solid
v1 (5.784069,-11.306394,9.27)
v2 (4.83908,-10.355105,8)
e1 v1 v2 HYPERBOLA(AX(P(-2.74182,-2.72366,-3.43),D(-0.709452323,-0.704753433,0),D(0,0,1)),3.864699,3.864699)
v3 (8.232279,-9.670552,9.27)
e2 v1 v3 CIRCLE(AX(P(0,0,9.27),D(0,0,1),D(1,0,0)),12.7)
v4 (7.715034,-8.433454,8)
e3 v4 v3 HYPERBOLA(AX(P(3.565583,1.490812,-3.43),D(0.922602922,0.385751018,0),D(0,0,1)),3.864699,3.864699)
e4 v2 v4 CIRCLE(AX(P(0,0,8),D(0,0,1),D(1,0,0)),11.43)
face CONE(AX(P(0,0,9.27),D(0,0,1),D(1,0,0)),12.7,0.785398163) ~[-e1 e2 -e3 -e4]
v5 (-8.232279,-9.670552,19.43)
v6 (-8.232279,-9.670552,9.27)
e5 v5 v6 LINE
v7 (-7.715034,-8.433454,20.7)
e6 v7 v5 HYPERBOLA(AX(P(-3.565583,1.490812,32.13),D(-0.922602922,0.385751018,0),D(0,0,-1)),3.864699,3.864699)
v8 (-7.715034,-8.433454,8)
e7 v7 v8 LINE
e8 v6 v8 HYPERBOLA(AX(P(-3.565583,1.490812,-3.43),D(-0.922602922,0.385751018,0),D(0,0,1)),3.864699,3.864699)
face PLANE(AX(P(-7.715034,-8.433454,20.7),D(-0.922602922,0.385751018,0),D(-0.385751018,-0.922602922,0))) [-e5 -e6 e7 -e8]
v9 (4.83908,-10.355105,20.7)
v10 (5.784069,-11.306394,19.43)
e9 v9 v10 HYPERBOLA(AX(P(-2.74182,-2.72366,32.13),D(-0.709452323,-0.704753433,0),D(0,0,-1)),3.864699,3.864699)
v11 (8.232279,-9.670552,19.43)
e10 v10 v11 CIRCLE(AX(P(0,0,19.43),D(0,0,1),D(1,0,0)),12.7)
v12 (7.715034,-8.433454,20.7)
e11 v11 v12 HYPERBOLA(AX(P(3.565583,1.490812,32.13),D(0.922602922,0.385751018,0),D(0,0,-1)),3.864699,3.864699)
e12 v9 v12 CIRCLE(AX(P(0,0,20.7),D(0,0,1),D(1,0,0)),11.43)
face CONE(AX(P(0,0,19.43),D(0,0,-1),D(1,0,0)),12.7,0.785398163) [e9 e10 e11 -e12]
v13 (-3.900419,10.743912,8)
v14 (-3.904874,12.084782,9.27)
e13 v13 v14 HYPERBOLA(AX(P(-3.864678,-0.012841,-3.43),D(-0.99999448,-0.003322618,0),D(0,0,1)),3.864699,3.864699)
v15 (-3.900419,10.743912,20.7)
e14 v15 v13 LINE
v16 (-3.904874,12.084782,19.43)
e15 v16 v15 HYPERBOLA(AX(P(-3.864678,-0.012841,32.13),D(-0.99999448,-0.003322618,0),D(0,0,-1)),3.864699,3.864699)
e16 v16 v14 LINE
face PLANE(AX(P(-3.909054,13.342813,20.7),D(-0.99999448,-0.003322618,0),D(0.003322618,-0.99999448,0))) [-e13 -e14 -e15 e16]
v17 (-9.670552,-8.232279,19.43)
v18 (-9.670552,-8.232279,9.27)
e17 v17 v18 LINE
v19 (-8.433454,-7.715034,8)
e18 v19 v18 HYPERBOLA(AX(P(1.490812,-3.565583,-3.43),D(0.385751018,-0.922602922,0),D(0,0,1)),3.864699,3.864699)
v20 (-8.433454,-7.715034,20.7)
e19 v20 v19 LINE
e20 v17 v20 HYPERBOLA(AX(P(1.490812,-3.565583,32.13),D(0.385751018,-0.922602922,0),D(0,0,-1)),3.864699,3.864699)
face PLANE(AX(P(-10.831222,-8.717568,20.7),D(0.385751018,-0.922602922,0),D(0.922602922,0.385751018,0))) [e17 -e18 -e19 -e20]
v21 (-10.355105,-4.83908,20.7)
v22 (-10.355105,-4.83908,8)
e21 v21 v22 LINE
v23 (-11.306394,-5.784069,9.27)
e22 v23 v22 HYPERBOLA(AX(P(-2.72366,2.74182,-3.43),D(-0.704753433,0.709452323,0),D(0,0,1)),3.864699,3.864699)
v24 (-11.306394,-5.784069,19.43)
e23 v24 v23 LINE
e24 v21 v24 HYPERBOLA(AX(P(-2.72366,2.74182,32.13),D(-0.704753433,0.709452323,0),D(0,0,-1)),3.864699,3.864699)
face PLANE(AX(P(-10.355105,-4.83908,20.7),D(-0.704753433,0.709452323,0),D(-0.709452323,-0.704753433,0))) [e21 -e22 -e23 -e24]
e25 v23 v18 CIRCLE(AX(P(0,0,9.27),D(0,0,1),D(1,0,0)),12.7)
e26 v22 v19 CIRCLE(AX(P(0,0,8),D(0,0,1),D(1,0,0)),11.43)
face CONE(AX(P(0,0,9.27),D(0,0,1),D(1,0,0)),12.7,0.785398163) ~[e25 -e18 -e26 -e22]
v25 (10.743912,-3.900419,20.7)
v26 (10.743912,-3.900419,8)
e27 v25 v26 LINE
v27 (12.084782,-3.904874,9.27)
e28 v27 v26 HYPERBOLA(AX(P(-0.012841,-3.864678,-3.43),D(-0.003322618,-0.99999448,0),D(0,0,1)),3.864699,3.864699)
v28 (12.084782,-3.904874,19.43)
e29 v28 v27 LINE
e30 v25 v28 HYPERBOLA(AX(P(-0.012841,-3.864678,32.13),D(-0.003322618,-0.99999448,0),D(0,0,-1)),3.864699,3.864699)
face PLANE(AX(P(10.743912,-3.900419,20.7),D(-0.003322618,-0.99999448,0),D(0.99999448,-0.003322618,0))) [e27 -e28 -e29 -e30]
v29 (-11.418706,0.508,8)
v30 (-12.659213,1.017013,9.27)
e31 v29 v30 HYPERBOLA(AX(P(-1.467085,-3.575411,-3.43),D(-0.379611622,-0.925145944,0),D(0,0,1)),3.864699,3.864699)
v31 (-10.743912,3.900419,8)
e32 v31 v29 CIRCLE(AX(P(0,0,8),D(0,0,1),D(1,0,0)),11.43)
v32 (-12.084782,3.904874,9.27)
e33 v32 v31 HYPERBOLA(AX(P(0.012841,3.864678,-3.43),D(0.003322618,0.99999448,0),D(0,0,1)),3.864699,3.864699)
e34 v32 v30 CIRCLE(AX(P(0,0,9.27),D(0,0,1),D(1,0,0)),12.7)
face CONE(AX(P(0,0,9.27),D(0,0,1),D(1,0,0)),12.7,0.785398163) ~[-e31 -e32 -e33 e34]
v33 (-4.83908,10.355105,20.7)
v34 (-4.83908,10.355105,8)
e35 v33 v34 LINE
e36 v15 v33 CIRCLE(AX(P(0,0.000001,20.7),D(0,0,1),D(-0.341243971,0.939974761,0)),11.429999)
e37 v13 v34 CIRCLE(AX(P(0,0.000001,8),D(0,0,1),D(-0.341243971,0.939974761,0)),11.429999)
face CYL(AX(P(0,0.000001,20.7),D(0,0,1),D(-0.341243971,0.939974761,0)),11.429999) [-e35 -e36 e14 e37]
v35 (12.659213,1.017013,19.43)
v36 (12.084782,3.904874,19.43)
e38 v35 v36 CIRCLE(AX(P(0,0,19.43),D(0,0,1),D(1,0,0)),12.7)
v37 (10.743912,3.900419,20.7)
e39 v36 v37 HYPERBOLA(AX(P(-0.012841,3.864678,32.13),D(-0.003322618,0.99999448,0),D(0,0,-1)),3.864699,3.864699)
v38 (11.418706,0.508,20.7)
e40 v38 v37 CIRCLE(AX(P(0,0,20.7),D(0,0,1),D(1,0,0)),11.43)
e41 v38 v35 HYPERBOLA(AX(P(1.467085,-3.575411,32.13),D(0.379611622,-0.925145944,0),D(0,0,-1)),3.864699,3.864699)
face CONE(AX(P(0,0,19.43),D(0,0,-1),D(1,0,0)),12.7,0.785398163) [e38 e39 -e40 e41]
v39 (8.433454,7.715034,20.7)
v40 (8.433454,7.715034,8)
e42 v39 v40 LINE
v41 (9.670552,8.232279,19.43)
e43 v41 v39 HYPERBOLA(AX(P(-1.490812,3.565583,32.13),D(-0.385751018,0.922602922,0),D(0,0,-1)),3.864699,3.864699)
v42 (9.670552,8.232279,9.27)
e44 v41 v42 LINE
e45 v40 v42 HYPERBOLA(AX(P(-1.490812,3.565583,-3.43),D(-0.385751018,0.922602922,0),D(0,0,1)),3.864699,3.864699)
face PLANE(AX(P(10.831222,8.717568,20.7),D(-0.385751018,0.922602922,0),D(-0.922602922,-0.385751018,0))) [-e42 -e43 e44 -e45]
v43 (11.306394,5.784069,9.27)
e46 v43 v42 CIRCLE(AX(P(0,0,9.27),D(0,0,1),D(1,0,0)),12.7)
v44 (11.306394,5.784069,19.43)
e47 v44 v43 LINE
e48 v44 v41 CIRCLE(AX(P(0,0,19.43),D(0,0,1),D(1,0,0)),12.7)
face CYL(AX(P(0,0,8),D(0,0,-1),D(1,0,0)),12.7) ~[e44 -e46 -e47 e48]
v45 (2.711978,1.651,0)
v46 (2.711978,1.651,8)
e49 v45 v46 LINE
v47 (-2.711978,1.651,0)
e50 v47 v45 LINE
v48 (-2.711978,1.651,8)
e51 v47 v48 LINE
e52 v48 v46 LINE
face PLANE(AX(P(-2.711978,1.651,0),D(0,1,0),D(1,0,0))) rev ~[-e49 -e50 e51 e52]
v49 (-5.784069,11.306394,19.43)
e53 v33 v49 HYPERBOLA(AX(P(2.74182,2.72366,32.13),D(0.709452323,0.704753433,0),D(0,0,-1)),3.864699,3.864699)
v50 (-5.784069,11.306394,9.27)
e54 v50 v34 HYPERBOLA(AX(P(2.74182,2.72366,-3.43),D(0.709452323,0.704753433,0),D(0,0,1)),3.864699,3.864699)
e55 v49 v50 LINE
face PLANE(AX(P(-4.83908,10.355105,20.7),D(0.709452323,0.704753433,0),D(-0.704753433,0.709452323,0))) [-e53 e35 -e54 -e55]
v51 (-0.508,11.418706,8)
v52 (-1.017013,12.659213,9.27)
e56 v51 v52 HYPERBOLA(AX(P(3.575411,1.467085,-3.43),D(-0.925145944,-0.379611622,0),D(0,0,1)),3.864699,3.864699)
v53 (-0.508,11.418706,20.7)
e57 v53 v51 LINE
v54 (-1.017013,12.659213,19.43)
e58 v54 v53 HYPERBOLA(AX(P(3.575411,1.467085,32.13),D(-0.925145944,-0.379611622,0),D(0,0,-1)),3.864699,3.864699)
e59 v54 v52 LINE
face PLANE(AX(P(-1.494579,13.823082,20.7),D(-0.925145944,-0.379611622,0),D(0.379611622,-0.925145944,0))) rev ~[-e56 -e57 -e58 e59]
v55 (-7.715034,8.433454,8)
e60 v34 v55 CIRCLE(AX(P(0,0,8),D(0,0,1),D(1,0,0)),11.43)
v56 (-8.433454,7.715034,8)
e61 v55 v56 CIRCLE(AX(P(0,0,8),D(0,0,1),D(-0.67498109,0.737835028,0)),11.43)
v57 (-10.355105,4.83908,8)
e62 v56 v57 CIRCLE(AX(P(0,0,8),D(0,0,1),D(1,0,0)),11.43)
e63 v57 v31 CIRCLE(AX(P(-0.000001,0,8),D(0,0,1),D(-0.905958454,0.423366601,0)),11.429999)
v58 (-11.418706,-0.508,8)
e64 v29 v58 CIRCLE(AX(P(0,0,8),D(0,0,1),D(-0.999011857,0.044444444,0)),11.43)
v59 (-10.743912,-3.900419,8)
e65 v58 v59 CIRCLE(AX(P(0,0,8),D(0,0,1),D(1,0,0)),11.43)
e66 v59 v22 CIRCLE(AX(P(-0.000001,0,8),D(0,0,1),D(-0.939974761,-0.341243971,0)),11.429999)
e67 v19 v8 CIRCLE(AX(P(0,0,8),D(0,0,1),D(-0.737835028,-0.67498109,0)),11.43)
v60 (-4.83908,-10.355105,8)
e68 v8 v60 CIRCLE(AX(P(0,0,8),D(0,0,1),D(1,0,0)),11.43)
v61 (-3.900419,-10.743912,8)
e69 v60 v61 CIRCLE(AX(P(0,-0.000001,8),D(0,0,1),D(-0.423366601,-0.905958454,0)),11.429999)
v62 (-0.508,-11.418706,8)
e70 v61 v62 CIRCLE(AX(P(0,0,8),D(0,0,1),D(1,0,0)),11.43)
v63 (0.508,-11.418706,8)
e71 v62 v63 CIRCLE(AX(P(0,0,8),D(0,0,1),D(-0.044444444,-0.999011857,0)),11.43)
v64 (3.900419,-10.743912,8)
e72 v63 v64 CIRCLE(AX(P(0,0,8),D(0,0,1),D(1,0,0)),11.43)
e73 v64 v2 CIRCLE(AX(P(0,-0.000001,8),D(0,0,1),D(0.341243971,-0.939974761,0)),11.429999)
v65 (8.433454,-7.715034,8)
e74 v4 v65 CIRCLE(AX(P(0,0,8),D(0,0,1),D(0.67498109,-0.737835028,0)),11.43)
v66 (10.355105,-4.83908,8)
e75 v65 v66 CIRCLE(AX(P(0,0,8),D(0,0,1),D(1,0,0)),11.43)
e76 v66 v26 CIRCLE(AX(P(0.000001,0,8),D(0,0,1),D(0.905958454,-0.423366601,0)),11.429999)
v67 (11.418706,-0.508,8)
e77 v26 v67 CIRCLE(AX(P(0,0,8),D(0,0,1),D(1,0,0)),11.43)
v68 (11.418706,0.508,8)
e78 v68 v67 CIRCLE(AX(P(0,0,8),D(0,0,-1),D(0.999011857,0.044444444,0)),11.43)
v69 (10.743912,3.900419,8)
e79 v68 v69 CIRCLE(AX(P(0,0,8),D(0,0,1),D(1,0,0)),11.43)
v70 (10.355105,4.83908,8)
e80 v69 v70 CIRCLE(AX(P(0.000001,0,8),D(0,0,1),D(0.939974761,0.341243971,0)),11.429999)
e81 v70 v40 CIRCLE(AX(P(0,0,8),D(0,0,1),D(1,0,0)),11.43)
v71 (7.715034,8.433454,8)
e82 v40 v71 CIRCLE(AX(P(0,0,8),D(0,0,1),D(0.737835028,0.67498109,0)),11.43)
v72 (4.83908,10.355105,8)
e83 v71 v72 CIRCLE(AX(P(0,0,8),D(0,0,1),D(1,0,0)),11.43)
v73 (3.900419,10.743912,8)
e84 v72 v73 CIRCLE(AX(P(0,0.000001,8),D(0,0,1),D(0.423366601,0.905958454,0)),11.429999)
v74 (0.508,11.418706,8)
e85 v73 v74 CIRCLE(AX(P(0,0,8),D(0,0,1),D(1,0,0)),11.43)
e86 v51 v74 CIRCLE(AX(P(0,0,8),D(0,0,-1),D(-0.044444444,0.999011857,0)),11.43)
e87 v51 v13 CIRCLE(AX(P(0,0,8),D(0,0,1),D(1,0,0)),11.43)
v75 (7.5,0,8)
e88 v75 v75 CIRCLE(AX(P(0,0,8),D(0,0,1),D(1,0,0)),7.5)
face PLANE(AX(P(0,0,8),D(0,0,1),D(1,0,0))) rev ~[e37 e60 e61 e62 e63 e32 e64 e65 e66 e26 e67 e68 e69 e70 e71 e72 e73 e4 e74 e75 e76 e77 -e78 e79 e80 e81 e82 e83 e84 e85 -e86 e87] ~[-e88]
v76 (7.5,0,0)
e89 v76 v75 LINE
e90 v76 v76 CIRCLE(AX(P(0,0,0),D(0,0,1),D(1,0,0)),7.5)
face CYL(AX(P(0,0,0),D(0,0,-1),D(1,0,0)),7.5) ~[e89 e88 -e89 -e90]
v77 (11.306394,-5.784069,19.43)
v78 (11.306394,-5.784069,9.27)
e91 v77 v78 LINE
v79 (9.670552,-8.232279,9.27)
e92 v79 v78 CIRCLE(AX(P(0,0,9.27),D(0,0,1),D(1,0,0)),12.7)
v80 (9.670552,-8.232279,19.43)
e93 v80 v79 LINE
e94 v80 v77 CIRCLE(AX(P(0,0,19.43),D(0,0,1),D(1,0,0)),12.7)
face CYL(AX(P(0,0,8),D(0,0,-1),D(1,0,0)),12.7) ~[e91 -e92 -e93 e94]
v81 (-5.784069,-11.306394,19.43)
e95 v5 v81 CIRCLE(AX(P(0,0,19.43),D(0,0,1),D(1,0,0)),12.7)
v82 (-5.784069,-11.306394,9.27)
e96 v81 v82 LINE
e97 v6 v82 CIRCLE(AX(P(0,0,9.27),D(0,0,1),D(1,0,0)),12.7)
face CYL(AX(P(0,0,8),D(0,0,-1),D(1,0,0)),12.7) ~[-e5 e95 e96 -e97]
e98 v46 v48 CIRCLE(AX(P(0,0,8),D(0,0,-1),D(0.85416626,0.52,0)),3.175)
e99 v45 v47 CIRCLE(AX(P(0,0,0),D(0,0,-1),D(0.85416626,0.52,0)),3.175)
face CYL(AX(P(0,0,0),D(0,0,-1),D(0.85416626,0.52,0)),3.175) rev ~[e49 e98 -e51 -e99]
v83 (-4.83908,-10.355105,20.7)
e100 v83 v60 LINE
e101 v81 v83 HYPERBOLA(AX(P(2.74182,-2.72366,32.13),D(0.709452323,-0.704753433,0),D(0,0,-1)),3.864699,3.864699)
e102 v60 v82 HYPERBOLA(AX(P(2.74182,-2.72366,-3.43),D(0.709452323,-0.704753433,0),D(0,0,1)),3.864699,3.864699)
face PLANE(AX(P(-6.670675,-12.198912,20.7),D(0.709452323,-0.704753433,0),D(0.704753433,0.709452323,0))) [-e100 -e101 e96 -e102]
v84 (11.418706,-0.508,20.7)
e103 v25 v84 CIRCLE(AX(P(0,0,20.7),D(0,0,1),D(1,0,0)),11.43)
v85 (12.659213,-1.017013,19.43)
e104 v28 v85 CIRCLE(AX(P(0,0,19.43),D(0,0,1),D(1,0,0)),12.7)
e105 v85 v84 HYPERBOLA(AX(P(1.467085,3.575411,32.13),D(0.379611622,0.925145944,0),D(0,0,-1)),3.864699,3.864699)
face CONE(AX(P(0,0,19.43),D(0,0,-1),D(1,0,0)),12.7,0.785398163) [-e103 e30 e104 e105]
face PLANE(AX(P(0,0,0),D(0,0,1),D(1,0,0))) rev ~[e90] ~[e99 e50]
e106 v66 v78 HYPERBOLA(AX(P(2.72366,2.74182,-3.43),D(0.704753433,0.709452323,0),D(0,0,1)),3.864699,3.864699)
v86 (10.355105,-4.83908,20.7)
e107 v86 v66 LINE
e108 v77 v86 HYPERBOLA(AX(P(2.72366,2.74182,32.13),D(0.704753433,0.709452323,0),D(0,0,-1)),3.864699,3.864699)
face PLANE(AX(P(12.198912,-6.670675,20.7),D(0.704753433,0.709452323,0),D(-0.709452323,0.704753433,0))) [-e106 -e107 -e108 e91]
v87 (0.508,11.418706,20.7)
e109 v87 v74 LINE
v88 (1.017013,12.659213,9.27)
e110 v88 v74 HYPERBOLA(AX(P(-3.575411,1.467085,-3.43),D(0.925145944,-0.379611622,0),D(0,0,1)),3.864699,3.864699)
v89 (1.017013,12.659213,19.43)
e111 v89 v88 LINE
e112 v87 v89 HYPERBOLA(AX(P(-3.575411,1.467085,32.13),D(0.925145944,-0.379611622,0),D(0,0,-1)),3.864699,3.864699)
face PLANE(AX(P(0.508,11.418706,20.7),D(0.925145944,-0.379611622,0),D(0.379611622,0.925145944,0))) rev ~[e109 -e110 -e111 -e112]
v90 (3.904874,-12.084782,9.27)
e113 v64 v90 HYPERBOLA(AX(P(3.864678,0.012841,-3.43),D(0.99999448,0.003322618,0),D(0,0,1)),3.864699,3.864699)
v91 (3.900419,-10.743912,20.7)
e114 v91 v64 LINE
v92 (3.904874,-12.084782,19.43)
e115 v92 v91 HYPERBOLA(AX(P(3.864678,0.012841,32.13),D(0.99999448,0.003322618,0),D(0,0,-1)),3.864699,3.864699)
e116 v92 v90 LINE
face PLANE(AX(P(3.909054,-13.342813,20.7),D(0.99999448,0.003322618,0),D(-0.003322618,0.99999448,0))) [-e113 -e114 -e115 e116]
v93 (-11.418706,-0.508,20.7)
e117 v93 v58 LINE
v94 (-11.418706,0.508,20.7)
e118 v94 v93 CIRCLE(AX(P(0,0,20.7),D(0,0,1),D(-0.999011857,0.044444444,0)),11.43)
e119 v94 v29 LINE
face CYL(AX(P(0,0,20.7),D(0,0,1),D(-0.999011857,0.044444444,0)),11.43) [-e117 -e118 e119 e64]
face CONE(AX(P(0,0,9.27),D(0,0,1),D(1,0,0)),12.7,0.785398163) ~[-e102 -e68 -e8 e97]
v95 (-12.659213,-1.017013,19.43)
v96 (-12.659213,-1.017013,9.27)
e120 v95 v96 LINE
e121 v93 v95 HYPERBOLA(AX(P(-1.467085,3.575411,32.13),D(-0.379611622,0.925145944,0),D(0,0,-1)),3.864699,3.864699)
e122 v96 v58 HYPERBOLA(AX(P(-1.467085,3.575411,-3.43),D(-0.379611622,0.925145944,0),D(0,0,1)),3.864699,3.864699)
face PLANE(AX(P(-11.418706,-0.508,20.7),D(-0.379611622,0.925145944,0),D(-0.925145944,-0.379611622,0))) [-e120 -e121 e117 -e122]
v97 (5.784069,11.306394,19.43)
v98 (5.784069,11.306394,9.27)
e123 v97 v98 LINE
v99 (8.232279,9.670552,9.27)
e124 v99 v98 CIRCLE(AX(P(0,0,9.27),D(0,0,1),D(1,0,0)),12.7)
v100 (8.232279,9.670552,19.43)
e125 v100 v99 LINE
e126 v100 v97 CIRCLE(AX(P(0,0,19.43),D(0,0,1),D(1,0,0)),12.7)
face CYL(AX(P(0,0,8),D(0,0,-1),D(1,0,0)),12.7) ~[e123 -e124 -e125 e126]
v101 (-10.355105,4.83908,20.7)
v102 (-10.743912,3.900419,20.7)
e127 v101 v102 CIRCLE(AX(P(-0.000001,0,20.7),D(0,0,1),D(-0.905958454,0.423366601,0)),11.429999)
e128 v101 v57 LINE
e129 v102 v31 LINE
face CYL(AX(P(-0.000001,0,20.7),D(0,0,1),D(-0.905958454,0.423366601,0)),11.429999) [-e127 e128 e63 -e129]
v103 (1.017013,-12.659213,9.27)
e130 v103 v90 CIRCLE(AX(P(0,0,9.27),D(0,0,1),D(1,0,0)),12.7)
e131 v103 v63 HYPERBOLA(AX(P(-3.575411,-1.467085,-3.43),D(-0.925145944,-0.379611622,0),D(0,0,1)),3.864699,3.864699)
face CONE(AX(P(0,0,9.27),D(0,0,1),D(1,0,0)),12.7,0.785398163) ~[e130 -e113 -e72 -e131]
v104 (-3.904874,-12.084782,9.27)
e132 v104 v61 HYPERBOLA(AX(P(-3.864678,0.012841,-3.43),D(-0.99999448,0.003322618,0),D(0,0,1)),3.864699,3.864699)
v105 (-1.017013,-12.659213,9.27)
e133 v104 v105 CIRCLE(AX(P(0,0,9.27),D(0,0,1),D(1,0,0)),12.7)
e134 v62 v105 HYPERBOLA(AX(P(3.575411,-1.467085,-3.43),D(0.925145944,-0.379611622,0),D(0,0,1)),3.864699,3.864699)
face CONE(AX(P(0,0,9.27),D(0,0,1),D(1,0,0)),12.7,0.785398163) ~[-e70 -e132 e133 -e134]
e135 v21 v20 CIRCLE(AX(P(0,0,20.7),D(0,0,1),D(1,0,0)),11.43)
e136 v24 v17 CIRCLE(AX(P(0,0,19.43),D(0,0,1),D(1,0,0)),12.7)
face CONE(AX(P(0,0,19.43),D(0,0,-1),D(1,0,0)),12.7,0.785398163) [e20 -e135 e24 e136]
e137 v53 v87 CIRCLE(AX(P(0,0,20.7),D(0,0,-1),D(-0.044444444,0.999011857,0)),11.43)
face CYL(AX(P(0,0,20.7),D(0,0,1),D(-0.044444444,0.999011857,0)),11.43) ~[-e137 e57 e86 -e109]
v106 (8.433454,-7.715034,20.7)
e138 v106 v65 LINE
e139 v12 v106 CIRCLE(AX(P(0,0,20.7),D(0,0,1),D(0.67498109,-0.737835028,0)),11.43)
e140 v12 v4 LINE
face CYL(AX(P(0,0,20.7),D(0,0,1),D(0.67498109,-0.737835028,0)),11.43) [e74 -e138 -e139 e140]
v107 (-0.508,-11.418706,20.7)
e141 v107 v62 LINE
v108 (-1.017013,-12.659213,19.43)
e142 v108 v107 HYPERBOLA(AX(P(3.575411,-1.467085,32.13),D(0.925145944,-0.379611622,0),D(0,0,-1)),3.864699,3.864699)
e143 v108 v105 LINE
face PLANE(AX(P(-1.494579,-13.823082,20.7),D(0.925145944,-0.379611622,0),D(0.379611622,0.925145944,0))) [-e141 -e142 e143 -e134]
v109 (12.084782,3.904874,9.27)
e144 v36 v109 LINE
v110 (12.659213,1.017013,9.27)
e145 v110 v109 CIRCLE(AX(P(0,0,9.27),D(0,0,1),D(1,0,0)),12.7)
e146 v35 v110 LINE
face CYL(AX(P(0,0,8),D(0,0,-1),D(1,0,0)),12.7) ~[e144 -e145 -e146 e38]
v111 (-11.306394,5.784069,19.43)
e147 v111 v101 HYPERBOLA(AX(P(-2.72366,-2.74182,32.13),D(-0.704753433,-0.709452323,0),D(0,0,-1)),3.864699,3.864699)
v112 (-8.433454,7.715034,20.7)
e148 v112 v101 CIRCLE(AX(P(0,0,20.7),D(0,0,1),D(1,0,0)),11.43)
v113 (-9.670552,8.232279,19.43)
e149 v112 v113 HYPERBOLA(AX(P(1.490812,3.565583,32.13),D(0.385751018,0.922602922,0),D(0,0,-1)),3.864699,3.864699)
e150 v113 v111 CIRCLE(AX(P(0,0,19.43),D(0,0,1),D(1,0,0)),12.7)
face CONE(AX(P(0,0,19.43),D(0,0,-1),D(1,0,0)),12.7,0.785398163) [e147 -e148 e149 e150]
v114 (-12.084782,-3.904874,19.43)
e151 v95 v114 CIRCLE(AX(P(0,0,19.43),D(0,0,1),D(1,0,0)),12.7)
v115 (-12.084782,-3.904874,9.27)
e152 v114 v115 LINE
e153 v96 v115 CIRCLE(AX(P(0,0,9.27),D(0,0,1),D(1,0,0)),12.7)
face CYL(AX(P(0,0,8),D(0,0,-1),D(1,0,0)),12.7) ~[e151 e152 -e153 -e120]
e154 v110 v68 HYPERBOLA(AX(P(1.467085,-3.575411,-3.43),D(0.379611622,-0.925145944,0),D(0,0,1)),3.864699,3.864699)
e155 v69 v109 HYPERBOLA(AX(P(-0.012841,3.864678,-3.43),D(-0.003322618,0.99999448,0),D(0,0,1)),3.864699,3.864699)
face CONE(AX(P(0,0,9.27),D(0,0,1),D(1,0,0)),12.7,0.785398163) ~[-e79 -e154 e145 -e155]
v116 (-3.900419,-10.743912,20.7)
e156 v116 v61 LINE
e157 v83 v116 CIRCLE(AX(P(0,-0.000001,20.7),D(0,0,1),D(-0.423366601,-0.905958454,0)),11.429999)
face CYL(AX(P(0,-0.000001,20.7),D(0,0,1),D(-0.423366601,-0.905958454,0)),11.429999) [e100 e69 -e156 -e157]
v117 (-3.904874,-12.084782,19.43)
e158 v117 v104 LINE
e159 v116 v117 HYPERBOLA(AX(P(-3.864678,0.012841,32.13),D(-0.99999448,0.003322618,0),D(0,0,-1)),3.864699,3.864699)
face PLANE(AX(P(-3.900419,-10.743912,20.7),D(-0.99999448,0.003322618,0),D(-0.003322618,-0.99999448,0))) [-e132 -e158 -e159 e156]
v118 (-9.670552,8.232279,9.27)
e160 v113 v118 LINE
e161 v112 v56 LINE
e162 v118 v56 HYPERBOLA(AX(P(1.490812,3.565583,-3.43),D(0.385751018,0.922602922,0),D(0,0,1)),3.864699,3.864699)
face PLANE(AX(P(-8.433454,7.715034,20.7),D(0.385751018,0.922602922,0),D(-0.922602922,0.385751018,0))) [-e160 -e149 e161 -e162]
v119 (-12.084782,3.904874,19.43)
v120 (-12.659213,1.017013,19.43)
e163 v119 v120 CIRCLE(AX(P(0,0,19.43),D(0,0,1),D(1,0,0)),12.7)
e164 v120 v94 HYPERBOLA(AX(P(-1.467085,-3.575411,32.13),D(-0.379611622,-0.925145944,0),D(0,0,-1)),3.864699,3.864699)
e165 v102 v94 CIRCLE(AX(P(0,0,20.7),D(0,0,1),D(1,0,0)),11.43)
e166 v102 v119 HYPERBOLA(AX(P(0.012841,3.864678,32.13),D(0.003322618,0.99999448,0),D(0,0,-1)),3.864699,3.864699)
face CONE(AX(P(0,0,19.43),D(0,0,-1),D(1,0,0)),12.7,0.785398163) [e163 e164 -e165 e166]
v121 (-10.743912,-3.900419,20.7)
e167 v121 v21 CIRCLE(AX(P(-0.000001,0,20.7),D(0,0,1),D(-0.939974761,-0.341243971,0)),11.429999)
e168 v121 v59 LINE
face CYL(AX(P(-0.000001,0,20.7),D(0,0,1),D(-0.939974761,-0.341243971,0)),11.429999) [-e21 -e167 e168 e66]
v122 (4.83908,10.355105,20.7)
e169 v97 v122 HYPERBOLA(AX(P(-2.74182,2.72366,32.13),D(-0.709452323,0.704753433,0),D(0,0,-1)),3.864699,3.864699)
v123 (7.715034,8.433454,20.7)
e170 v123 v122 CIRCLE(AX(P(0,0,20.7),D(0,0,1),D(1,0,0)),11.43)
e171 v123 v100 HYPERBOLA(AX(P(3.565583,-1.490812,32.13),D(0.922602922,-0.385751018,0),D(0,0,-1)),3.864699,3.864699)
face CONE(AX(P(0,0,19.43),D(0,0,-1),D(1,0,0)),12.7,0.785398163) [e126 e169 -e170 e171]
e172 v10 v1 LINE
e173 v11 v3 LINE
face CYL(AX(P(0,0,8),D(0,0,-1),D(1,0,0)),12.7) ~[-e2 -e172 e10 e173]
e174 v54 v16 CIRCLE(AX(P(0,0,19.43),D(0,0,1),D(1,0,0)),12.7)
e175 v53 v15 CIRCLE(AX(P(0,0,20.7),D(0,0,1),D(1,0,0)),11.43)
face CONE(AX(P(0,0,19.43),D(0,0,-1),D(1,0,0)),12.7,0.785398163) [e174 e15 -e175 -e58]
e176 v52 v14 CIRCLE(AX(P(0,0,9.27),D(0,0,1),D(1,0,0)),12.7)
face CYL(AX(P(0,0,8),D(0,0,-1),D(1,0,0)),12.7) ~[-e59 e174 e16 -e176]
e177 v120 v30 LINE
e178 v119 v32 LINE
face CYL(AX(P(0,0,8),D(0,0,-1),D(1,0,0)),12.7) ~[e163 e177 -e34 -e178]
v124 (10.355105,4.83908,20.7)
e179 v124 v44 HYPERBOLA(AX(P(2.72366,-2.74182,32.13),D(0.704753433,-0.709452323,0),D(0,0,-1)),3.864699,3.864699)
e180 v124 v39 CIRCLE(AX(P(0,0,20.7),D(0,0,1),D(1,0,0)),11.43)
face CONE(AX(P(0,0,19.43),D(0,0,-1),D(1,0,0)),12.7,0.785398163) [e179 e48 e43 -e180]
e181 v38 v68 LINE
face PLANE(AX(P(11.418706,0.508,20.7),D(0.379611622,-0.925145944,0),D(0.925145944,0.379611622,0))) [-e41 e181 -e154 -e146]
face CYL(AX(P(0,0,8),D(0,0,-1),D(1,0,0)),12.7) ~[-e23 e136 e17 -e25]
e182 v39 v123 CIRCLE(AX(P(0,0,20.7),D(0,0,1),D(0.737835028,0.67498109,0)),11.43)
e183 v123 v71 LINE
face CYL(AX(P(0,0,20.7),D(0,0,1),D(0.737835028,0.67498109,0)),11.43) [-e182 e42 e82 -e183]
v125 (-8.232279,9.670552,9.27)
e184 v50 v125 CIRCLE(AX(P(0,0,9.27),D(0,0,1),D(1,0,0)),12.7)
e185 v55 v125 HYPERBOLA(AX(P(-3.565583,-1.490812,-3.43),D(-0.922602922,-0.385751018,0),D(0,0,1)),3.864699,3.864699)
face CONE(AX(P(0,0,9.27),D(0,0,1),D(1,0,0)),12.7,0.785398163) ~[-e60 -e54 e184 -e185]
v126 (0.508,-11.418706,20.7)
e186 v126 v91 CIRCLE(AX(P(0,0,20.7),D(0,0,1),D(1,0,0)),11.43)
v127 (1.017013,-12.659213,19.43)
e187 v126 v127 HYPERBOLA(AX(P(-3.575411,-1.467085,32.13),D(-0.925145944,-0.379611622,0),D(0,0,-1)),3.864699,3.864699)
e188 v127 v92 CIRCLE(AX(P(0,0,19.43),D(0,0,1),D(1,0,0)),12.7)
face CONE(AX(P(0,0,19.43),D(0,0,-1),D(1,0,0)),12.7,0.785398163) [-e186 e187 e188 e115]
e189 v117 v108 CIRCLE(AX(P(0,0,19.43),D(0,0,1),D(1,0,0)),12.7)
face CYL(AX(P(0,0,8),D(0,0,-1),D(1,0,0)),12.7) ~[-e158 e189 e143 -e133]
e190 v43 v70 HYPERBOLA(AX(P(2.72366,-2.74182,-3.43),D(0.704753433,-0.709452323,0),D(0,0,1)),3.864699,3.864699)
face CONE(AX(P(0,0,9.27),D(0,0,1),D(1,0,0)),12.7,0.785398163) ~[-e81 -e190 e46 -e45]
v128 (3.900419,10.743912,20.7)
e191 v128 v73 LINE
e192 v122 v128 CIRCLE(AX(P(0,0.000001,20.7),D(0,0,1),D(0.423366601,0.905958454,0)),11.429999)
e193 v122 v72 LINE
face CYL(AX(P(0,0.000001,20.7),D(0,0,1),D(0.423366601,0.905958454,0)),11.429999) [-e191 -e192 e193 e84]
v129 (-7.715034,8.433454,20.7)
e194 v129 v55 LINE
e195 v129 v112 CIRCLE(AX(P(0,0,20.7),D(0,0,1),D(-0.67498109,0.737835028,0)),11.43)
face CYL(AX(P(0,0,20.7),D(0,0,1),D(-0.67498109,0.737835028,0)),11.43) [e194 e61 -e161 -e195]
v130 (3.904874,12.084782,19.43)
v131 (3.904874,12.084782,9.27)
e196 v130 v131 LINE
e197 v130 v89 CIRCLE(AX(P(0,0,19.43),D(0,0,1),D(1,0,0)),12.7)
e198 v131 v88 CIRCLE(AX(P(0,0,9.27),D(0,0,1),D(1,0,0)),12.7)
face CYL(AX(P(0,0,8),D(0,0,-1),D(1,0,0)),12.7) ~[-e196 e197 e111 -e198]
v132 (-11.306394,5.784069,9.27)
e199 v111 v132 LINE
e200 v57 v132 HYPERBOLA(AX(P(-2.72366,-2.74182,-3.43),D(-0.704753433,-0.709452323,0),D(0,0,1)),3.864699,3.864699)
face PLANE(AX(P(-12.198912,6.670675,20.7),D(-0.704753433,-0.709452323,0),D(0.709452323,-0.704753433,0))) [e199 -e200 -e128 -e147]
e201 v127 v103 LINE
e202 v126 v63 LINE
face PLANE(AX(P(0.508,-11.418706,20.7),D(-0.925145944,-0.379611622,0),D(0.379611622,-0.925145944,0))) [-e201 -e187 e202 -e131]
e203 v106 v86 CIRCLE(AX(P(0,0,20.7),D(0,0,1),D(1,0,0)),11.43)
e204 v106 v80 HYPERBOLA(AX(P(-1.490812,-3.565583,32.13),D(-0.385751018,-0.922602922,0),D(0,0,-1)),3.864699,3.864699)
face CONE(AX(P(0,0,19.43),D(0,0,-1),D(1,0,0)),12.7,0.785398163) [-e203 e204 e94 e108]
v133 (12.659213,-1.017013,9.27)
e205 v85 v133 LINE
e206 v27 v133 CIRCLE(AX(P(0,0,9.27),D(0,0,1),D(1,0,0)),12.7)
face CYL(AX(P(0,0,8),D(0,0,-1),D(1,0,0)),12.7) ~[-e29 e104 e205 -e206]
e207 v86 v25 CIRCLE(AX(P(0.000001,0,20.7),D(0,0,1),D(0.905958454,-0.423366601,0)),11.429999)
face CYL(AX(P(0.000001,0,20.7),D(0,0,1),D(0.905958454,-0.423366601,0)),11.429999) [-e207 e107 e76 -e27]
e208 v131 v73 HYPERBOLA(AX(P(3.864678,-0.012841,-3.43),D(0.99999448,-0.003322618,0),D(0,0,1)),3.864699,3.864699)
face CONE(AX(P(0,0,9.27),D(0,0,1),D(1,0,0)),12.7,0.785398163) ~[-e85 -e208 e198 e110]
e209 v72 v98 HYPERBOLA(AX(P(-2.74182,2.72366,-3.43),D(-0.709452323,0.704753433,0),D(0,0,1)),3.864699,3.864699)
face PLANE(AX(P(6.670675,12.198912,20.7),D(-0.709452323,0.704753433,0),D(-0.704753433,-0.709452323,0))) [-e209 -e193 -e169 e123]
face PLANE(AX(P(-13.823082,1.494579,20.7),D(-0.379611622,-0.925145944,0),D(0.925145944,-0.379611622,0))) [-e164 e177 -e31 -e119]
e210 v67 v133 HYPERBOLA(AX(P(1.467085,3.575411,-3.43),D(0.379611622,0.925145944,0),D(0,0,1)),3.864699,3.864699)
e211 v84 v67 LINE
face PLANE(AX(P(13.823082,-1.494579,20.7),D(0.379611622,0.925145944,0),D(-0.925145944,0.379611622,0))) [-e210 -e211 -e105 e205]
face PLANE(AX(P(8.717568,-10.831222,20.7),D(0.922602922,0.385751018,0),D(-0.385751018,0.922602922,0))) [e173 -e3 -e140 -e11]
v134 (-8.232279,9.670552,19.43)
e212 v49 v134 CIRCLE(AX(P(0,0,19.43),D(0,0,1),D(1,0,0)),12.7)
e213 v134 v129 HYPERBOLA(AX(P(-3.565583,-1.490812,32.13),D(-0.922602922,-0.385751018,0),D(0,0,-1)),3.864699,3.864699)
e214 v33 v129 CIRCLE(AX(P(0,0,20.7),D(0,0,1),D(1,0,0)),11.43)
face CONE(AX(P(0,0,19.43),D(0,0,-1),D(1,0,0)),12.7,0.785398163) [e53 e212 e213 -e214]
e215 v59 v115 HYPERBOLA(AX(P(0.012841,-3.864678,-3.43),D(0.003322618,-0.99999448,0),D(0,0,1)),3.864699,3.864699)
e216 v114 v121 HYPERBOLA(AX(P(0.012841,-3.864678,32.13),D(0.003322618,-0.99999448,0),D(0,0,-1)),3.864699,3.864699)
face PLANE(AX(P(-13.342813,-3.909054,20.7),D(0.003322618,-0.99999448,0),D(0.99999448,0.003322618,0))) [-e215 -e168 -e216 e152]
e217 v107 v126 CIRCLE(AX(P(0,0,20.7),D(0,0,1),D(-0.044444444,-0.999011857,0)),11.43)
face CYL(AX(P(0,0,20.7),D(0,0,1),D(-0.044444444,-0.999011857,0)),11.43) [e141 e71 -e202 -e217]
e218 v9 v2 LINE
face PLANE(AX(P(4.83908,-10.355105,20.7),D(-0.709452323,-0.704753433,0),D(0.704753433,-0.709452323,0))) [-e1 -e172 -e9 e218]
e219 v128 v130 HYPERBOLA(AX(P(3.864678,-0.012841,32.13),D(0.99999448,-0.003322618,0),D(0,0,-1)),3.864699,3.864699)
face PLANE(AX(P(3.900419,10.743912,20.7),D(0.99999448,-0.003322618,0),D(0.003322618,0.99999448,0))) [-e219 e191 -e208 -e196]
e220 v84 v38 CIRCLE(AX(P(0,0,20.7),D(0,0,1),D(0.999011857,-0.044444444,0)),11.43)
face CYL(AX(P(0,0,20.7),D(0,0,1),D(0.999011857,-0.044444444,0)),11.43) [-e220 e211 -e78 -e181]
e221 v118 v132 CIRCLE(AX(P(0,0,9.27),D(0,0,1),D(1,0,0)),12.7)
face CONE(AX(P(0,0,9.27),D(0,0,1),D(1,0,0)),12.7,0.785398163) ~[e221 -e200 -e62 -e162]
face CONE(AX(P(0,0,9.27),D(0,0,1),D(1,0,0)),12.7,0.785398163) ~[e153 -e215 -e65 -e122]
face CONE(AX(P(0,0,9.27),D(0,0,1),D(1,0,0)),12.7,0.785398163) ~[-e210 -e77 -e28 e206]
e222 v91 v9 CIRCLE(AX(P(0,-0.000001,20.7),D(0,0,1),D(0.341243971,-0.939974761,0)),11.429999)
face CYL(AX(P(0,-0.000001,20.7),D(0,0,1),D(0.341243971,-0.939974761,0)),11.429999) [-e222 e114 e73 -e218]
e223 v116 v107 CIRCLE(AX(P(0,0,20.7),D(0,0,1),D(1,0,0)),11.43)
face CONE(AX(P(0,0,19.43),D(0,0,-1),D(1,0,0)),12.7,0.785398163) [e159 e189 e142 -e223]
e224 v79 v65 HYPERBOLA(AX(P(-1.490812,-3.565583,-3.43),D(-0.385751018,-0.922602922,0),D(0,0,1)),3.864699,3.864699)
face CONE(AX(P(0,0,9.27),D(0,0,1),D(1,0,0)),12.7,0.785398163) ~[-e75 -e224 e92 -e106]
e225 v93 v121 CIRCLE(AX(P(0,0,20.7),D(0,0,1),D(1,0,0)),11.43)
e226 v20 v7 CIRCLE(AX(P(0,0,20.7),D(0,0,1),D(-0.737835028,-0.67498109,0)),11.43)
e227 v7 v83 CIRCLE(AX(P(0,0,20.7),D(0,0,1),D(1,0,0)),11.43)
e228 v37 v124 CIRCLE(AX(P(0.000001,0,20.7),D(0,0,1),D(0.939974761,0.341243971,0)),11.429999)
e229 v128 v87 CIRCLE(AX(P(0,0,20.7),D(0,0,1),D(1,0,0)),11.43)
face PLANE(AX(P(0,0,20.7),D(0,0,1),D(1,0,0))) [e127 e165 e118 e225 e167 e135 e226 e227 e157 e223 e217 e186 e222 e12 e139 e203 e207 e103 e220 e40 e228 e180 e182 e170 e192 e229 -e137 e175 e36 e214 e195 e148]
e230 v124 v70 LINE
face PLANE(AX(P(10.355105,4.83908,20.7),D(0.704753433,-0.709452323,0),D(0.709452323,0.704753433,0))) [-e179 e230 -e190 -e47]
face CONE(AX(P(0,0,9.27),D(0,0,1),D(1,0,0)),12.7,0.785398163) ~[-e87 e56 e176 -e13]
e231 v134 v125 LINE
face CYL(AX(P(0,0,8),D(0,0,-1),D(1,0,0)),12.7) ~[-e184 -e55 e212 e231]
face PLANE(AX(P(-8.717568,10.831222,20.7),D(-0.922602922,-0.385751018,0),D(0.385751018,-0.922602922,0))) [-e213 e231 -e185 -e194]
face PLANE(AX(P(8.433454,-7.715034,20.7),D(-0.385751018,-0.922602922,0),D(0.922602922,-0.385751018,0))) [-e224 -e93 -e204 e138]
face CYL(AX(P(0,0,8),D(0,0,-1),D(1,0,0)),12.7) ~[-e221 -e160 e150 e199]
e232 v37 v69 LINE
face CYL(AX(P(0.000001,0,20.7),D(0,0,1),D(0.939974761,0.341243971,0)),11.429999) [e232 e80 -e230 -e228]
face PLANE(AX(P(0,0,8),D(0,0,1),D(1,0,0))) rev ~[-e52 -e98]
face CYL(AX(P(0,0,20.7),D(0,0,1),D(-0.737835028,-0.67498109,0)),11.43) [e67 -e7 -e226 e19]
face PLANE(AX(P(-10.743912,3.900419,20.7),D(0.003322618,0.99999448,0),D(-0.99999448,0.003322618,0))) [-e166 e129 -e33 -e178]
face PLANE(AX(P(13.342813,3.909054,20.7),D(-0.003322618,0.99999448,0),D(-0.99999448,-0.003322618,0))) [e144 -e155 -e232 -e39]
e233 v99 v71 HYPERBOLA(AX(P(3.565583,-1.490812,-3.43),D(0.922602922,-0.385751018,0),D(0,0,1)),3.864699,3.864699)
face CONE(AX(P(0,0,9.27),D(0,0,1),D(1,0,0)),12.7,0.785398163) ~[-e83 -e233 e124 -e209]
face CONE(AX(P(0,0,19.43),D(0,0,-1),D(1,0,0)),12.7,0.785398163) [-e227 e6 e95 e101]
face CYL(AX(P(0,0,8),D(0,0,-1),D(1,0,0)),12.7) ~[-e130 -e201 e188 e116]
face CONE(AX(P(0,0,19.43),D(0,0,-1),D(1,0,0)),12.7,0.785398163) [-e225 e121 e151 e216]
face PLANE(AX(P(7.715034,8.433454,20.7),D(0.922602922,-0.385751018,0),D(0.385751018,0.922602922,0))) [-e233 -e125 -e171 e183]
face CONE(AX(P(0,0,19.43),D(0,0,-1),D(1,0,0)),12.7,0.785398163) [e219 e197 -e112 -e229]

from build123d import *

# Parameters (mm, degrees)
SKETCH1_R           = 7.5
BOSS_EXTRUDE1_DEPTH = 8
SKETCH2_R           = 12.7
BOSS_EXTRUDE2_DEPTH = 12.7
CHAMFER1_SIZE       = 1.27
CUT_EXTRUDE2_DEPTH  = 12.7


with BuildPart() as part:
    # Sketch1 → Boss-Extrude1 (new body)
    with BuildSketch(Plane.XY):
        Circle(SKETCH1_R)
        with BuildLine():
            Line((-2.711977876, 1.651), (2.711977876, 1.651))
            ThreePointArc((2.711977876, 1.651), (0, -3.175), (-2.711977876, 1.651))
        make_face(mode=Mode.SUBTRACT)
    extrude(amount=BOSS_EXTRUDE1_DEPTH)

    # Sketch2 → Boss-Extrude2 (add)
    with BuildSketch(Plane.XY.offset(8)):
        Circle(SKETCH2_R)
    extrude(amount=BOSS_EXTRUDE2_DEPTH)

    # Chamfer1
    chamfer1_edges = [part.edges().sort_by_distance(p)[0] for p in [
        (-12.7, 0, 8),
        (-12.7, 0, 20.7),
    ]]
    chamfer(chamfer1_edges, length=CHAMFER1_SIZE)

    # Sketch3 → Cut-Extrude2 (cut)
    with BuildSketch(Plane.XY.offset(20.7)):
        with BuildLine():
            Line((-1.494578623, 13.823081897), (-0.508, 11.418705531))
            ThreePointArc((-0.508, 11.418705531), (0, 11.43), (0.508, 11.418705531))
            Line((0.508, 11.418705531), (1.494578623, 13.823081897))
            Line((1.494578623, 13.823081897), (-1.494578623, 13.823081897))
        make_face()
        with BuildLine():
            Line((3.909053826, 13.342812918), (6.670675026, 12.198911963))
            Line((6.670675026, 12.198911963), (4.839080228, 10.355105144))
            ThreePointArc((4.839080228, 10.355105144), (4.374071632, 10.559943057), (3.900418623, 10.743911511))
            Line((3.900418623, 10.743911511), (3.909053826, 13.342812918))
        make_face()
        with BuildLine():
            Line((8.717568266, 10.831221626), (10.831221626, 8.717568266))
            Line((10.831221626, 8.717568266), (8.433454358, 7.715033868))
            ThreePointArc((8.433454358, 7.715033868), (8.082230509, 8.082230509), (7.715033868, 8.433454358))
            Line((7.715033868, 8.433454358), (8.717568266, 10.831221626))
        make_face()
        with BuildLine():
            Line((12.198911963, 6.670675026), (13.342812918, 3.909053826))
            Line((13.342812918, 3.909053826), (10.743911511, 3.900418623))
            ThreePointArc((10.743911511, 3.900418623), (10.559943057, 4.374071632), (10.355105144, 4.839080228))
            Line((10.355105144, 4.839080228), (12.198911963, 6.670675026))
        make_face()
        with BuildLine():
            Line((13.823081897, 1.494578623), (13.823081897, -1.494578623))
            Line((13.823081897, -1.494578623), (11.418705531, -0.508))
            ThreePointArc((11.418705531, -0.508), (11.43, 0), (11.418705531, 0.508))
            Line((11.418705531, 0.508), (13.823081897, 1.494578623))
        make_face()
        with BuildLine():
            Line((13.342812918, -3.909053826), (12.198911963, -6.670675026))
            Line((12.198911963, -6.670675026), (10.355105144, -4.839080228))
            ThreePointArc((10.355105144, -4.839080228), (10.559943057, -4.374071632), (10.743911511, -3.900418623))
            Line((10.743911511, -3.900418623), (13.342812918, -3.909053826))
        make_face()
        with BuildLine():
            Line((10.831221626, -8.717568266), (8.717568266, -10.831221626))
            Line((8.717568266, -10.831221626), (7.715033868, -8.433454358))
            ThreePointArc((7.715033868, -8.433454358), (8.082230509, -8.082230509), (8.433454358, -7.715033868))
            Line((8.433454358, -7.715033868), (10.831221626, -8.717568266))
        make_face()
        with BuildLine():
            Line((6.670675026, -12.198911963), (3.909053826, -13.342812918))
            Line((3.909053826, -13.342812918), (3.900418623, -10.743911511))
            ThreePointArc((3.900418623, -10.743911511), (4.374071632, -10.559943057), (4.839080228, -10.355105144))
            Line((4.839080228, -10.355105144), (6.670675026, -12.198911963))
        make_face()
        with BuildLine():
            Line((1.494578623, -13.823081897), (-1.494578623, -13.823081897))
            Line((-1.494578623, -13.823081897), (-0.508, -11.418705531))
            ThreePointArc((-0.508, -11.418705531), (0, -11.43), (0.508, -11.418705531))
            Line((0.508, -11.418705531), (1.494578623, -13.823081897))
        make_face()
        with BuildLine():
            Line((-3.909053826, -13.342812918), (-6.670675026, -12.198911963))
            Line((-6.670675026, -12.198911963), (-4.839080228, -10.355105144))
            ThreePointArc((-4.839080228, -10.355105144), (-4.374071632, -10.559943057), (-3.900418623, -10.743911511))
            Line((-3.900418623, -10.743911511), (-3.909053826, -13.342812918))
        make_face()
        with BuildLine():
            Line((-8.717568266, -10.831221626), (-10.831221626, -8.717568266))
            Line((-10.831221626, -8.717568266), (-8.433454358, -7.715033868))
            ThreePointArc((-8.433454358, -7.715033868), (-8.082230509, -8.082230509), (-7.715033868, -8.433454358))
            Line((-7.715033868, -8.433454358), (-8.717568266, -10.831221626))
        make_face()
        with BuildLine():
            Line((-12.198911963, -6.670675026), (-13.342812918, -3.909053826))
            Line((-13.342812918, -3.909053826), (-10.743911511, -3.900418623))
            ThreePointArc((-10.743911511, -3.900418623), (-10.559943057, -4.374071632), (-10.355105144, -4.839080228))
            Line((-10.355105144, -4.839080228), (-12.198911963, -6.670675026))
        make_face()
        with BuildLine():
            Line((-13.823081897, -1.494578623), (-13.823081897, 1.494578623))
            Line((-13.823081897, 1.494578623), (-11.418705531, 0.508))
            ThreePointArc((-11.418705531, 0.508), (-11.43, 0), (-11.418705531, -0.508))
            Line((-11.418705531, -0.508), (-13.823081897, -1.494578623))
        make_face()
        with BuildLine():
            Line((-13.342812918, 3.909053826), (-12.198911963, 6.670675026))
            Line((-12.198911963, 6.670675026), (-10.355105144, 4.839080228))
            ThreePointArc((-10.355105144, 4.839080228), (-10.559943057, 4.374071632), (-10.743911511, 3.900418623))
            Line((-10.743911511, 3.900418623), (-13.342812918, 3.909053826))
        make_face()
        with BuildLine():
            Line((-10.831221626, 8.717568266), (-8.717568266, 10.831221626))
            Line((-8.717568266, 10.831221626), (-7.715033868, 8.433454358))
            ThreePointArc((-7.715033868, 8.433454358), (-8.082230509, 8.082230509), (-8.433454358, 7.715033868))
            Line((-8.433454358, 7.715033868), (-10.831221626, 8.717568266))
        make_face()
        with BuildLine():
            Line((-6.670675026, 12.198911963), (-3.909053826, 13.342812918))
            Line((-3.909053826, 13.342812918), (-3.900418623, 10.743911511))
            ThreePointArc((-3.900418623, 10.743911511), (-4.374071632, 10.559943057), (-4.839080228, 10.355105144))
            Line((-4.839080228, 10.355105144), (-6.670675026, 12.198911963))
        make_face()
    extrude(amount=-CUT_EXTRUDE2_DEPTH, mode=Mode.SUBTRACT)


solid = part.part
